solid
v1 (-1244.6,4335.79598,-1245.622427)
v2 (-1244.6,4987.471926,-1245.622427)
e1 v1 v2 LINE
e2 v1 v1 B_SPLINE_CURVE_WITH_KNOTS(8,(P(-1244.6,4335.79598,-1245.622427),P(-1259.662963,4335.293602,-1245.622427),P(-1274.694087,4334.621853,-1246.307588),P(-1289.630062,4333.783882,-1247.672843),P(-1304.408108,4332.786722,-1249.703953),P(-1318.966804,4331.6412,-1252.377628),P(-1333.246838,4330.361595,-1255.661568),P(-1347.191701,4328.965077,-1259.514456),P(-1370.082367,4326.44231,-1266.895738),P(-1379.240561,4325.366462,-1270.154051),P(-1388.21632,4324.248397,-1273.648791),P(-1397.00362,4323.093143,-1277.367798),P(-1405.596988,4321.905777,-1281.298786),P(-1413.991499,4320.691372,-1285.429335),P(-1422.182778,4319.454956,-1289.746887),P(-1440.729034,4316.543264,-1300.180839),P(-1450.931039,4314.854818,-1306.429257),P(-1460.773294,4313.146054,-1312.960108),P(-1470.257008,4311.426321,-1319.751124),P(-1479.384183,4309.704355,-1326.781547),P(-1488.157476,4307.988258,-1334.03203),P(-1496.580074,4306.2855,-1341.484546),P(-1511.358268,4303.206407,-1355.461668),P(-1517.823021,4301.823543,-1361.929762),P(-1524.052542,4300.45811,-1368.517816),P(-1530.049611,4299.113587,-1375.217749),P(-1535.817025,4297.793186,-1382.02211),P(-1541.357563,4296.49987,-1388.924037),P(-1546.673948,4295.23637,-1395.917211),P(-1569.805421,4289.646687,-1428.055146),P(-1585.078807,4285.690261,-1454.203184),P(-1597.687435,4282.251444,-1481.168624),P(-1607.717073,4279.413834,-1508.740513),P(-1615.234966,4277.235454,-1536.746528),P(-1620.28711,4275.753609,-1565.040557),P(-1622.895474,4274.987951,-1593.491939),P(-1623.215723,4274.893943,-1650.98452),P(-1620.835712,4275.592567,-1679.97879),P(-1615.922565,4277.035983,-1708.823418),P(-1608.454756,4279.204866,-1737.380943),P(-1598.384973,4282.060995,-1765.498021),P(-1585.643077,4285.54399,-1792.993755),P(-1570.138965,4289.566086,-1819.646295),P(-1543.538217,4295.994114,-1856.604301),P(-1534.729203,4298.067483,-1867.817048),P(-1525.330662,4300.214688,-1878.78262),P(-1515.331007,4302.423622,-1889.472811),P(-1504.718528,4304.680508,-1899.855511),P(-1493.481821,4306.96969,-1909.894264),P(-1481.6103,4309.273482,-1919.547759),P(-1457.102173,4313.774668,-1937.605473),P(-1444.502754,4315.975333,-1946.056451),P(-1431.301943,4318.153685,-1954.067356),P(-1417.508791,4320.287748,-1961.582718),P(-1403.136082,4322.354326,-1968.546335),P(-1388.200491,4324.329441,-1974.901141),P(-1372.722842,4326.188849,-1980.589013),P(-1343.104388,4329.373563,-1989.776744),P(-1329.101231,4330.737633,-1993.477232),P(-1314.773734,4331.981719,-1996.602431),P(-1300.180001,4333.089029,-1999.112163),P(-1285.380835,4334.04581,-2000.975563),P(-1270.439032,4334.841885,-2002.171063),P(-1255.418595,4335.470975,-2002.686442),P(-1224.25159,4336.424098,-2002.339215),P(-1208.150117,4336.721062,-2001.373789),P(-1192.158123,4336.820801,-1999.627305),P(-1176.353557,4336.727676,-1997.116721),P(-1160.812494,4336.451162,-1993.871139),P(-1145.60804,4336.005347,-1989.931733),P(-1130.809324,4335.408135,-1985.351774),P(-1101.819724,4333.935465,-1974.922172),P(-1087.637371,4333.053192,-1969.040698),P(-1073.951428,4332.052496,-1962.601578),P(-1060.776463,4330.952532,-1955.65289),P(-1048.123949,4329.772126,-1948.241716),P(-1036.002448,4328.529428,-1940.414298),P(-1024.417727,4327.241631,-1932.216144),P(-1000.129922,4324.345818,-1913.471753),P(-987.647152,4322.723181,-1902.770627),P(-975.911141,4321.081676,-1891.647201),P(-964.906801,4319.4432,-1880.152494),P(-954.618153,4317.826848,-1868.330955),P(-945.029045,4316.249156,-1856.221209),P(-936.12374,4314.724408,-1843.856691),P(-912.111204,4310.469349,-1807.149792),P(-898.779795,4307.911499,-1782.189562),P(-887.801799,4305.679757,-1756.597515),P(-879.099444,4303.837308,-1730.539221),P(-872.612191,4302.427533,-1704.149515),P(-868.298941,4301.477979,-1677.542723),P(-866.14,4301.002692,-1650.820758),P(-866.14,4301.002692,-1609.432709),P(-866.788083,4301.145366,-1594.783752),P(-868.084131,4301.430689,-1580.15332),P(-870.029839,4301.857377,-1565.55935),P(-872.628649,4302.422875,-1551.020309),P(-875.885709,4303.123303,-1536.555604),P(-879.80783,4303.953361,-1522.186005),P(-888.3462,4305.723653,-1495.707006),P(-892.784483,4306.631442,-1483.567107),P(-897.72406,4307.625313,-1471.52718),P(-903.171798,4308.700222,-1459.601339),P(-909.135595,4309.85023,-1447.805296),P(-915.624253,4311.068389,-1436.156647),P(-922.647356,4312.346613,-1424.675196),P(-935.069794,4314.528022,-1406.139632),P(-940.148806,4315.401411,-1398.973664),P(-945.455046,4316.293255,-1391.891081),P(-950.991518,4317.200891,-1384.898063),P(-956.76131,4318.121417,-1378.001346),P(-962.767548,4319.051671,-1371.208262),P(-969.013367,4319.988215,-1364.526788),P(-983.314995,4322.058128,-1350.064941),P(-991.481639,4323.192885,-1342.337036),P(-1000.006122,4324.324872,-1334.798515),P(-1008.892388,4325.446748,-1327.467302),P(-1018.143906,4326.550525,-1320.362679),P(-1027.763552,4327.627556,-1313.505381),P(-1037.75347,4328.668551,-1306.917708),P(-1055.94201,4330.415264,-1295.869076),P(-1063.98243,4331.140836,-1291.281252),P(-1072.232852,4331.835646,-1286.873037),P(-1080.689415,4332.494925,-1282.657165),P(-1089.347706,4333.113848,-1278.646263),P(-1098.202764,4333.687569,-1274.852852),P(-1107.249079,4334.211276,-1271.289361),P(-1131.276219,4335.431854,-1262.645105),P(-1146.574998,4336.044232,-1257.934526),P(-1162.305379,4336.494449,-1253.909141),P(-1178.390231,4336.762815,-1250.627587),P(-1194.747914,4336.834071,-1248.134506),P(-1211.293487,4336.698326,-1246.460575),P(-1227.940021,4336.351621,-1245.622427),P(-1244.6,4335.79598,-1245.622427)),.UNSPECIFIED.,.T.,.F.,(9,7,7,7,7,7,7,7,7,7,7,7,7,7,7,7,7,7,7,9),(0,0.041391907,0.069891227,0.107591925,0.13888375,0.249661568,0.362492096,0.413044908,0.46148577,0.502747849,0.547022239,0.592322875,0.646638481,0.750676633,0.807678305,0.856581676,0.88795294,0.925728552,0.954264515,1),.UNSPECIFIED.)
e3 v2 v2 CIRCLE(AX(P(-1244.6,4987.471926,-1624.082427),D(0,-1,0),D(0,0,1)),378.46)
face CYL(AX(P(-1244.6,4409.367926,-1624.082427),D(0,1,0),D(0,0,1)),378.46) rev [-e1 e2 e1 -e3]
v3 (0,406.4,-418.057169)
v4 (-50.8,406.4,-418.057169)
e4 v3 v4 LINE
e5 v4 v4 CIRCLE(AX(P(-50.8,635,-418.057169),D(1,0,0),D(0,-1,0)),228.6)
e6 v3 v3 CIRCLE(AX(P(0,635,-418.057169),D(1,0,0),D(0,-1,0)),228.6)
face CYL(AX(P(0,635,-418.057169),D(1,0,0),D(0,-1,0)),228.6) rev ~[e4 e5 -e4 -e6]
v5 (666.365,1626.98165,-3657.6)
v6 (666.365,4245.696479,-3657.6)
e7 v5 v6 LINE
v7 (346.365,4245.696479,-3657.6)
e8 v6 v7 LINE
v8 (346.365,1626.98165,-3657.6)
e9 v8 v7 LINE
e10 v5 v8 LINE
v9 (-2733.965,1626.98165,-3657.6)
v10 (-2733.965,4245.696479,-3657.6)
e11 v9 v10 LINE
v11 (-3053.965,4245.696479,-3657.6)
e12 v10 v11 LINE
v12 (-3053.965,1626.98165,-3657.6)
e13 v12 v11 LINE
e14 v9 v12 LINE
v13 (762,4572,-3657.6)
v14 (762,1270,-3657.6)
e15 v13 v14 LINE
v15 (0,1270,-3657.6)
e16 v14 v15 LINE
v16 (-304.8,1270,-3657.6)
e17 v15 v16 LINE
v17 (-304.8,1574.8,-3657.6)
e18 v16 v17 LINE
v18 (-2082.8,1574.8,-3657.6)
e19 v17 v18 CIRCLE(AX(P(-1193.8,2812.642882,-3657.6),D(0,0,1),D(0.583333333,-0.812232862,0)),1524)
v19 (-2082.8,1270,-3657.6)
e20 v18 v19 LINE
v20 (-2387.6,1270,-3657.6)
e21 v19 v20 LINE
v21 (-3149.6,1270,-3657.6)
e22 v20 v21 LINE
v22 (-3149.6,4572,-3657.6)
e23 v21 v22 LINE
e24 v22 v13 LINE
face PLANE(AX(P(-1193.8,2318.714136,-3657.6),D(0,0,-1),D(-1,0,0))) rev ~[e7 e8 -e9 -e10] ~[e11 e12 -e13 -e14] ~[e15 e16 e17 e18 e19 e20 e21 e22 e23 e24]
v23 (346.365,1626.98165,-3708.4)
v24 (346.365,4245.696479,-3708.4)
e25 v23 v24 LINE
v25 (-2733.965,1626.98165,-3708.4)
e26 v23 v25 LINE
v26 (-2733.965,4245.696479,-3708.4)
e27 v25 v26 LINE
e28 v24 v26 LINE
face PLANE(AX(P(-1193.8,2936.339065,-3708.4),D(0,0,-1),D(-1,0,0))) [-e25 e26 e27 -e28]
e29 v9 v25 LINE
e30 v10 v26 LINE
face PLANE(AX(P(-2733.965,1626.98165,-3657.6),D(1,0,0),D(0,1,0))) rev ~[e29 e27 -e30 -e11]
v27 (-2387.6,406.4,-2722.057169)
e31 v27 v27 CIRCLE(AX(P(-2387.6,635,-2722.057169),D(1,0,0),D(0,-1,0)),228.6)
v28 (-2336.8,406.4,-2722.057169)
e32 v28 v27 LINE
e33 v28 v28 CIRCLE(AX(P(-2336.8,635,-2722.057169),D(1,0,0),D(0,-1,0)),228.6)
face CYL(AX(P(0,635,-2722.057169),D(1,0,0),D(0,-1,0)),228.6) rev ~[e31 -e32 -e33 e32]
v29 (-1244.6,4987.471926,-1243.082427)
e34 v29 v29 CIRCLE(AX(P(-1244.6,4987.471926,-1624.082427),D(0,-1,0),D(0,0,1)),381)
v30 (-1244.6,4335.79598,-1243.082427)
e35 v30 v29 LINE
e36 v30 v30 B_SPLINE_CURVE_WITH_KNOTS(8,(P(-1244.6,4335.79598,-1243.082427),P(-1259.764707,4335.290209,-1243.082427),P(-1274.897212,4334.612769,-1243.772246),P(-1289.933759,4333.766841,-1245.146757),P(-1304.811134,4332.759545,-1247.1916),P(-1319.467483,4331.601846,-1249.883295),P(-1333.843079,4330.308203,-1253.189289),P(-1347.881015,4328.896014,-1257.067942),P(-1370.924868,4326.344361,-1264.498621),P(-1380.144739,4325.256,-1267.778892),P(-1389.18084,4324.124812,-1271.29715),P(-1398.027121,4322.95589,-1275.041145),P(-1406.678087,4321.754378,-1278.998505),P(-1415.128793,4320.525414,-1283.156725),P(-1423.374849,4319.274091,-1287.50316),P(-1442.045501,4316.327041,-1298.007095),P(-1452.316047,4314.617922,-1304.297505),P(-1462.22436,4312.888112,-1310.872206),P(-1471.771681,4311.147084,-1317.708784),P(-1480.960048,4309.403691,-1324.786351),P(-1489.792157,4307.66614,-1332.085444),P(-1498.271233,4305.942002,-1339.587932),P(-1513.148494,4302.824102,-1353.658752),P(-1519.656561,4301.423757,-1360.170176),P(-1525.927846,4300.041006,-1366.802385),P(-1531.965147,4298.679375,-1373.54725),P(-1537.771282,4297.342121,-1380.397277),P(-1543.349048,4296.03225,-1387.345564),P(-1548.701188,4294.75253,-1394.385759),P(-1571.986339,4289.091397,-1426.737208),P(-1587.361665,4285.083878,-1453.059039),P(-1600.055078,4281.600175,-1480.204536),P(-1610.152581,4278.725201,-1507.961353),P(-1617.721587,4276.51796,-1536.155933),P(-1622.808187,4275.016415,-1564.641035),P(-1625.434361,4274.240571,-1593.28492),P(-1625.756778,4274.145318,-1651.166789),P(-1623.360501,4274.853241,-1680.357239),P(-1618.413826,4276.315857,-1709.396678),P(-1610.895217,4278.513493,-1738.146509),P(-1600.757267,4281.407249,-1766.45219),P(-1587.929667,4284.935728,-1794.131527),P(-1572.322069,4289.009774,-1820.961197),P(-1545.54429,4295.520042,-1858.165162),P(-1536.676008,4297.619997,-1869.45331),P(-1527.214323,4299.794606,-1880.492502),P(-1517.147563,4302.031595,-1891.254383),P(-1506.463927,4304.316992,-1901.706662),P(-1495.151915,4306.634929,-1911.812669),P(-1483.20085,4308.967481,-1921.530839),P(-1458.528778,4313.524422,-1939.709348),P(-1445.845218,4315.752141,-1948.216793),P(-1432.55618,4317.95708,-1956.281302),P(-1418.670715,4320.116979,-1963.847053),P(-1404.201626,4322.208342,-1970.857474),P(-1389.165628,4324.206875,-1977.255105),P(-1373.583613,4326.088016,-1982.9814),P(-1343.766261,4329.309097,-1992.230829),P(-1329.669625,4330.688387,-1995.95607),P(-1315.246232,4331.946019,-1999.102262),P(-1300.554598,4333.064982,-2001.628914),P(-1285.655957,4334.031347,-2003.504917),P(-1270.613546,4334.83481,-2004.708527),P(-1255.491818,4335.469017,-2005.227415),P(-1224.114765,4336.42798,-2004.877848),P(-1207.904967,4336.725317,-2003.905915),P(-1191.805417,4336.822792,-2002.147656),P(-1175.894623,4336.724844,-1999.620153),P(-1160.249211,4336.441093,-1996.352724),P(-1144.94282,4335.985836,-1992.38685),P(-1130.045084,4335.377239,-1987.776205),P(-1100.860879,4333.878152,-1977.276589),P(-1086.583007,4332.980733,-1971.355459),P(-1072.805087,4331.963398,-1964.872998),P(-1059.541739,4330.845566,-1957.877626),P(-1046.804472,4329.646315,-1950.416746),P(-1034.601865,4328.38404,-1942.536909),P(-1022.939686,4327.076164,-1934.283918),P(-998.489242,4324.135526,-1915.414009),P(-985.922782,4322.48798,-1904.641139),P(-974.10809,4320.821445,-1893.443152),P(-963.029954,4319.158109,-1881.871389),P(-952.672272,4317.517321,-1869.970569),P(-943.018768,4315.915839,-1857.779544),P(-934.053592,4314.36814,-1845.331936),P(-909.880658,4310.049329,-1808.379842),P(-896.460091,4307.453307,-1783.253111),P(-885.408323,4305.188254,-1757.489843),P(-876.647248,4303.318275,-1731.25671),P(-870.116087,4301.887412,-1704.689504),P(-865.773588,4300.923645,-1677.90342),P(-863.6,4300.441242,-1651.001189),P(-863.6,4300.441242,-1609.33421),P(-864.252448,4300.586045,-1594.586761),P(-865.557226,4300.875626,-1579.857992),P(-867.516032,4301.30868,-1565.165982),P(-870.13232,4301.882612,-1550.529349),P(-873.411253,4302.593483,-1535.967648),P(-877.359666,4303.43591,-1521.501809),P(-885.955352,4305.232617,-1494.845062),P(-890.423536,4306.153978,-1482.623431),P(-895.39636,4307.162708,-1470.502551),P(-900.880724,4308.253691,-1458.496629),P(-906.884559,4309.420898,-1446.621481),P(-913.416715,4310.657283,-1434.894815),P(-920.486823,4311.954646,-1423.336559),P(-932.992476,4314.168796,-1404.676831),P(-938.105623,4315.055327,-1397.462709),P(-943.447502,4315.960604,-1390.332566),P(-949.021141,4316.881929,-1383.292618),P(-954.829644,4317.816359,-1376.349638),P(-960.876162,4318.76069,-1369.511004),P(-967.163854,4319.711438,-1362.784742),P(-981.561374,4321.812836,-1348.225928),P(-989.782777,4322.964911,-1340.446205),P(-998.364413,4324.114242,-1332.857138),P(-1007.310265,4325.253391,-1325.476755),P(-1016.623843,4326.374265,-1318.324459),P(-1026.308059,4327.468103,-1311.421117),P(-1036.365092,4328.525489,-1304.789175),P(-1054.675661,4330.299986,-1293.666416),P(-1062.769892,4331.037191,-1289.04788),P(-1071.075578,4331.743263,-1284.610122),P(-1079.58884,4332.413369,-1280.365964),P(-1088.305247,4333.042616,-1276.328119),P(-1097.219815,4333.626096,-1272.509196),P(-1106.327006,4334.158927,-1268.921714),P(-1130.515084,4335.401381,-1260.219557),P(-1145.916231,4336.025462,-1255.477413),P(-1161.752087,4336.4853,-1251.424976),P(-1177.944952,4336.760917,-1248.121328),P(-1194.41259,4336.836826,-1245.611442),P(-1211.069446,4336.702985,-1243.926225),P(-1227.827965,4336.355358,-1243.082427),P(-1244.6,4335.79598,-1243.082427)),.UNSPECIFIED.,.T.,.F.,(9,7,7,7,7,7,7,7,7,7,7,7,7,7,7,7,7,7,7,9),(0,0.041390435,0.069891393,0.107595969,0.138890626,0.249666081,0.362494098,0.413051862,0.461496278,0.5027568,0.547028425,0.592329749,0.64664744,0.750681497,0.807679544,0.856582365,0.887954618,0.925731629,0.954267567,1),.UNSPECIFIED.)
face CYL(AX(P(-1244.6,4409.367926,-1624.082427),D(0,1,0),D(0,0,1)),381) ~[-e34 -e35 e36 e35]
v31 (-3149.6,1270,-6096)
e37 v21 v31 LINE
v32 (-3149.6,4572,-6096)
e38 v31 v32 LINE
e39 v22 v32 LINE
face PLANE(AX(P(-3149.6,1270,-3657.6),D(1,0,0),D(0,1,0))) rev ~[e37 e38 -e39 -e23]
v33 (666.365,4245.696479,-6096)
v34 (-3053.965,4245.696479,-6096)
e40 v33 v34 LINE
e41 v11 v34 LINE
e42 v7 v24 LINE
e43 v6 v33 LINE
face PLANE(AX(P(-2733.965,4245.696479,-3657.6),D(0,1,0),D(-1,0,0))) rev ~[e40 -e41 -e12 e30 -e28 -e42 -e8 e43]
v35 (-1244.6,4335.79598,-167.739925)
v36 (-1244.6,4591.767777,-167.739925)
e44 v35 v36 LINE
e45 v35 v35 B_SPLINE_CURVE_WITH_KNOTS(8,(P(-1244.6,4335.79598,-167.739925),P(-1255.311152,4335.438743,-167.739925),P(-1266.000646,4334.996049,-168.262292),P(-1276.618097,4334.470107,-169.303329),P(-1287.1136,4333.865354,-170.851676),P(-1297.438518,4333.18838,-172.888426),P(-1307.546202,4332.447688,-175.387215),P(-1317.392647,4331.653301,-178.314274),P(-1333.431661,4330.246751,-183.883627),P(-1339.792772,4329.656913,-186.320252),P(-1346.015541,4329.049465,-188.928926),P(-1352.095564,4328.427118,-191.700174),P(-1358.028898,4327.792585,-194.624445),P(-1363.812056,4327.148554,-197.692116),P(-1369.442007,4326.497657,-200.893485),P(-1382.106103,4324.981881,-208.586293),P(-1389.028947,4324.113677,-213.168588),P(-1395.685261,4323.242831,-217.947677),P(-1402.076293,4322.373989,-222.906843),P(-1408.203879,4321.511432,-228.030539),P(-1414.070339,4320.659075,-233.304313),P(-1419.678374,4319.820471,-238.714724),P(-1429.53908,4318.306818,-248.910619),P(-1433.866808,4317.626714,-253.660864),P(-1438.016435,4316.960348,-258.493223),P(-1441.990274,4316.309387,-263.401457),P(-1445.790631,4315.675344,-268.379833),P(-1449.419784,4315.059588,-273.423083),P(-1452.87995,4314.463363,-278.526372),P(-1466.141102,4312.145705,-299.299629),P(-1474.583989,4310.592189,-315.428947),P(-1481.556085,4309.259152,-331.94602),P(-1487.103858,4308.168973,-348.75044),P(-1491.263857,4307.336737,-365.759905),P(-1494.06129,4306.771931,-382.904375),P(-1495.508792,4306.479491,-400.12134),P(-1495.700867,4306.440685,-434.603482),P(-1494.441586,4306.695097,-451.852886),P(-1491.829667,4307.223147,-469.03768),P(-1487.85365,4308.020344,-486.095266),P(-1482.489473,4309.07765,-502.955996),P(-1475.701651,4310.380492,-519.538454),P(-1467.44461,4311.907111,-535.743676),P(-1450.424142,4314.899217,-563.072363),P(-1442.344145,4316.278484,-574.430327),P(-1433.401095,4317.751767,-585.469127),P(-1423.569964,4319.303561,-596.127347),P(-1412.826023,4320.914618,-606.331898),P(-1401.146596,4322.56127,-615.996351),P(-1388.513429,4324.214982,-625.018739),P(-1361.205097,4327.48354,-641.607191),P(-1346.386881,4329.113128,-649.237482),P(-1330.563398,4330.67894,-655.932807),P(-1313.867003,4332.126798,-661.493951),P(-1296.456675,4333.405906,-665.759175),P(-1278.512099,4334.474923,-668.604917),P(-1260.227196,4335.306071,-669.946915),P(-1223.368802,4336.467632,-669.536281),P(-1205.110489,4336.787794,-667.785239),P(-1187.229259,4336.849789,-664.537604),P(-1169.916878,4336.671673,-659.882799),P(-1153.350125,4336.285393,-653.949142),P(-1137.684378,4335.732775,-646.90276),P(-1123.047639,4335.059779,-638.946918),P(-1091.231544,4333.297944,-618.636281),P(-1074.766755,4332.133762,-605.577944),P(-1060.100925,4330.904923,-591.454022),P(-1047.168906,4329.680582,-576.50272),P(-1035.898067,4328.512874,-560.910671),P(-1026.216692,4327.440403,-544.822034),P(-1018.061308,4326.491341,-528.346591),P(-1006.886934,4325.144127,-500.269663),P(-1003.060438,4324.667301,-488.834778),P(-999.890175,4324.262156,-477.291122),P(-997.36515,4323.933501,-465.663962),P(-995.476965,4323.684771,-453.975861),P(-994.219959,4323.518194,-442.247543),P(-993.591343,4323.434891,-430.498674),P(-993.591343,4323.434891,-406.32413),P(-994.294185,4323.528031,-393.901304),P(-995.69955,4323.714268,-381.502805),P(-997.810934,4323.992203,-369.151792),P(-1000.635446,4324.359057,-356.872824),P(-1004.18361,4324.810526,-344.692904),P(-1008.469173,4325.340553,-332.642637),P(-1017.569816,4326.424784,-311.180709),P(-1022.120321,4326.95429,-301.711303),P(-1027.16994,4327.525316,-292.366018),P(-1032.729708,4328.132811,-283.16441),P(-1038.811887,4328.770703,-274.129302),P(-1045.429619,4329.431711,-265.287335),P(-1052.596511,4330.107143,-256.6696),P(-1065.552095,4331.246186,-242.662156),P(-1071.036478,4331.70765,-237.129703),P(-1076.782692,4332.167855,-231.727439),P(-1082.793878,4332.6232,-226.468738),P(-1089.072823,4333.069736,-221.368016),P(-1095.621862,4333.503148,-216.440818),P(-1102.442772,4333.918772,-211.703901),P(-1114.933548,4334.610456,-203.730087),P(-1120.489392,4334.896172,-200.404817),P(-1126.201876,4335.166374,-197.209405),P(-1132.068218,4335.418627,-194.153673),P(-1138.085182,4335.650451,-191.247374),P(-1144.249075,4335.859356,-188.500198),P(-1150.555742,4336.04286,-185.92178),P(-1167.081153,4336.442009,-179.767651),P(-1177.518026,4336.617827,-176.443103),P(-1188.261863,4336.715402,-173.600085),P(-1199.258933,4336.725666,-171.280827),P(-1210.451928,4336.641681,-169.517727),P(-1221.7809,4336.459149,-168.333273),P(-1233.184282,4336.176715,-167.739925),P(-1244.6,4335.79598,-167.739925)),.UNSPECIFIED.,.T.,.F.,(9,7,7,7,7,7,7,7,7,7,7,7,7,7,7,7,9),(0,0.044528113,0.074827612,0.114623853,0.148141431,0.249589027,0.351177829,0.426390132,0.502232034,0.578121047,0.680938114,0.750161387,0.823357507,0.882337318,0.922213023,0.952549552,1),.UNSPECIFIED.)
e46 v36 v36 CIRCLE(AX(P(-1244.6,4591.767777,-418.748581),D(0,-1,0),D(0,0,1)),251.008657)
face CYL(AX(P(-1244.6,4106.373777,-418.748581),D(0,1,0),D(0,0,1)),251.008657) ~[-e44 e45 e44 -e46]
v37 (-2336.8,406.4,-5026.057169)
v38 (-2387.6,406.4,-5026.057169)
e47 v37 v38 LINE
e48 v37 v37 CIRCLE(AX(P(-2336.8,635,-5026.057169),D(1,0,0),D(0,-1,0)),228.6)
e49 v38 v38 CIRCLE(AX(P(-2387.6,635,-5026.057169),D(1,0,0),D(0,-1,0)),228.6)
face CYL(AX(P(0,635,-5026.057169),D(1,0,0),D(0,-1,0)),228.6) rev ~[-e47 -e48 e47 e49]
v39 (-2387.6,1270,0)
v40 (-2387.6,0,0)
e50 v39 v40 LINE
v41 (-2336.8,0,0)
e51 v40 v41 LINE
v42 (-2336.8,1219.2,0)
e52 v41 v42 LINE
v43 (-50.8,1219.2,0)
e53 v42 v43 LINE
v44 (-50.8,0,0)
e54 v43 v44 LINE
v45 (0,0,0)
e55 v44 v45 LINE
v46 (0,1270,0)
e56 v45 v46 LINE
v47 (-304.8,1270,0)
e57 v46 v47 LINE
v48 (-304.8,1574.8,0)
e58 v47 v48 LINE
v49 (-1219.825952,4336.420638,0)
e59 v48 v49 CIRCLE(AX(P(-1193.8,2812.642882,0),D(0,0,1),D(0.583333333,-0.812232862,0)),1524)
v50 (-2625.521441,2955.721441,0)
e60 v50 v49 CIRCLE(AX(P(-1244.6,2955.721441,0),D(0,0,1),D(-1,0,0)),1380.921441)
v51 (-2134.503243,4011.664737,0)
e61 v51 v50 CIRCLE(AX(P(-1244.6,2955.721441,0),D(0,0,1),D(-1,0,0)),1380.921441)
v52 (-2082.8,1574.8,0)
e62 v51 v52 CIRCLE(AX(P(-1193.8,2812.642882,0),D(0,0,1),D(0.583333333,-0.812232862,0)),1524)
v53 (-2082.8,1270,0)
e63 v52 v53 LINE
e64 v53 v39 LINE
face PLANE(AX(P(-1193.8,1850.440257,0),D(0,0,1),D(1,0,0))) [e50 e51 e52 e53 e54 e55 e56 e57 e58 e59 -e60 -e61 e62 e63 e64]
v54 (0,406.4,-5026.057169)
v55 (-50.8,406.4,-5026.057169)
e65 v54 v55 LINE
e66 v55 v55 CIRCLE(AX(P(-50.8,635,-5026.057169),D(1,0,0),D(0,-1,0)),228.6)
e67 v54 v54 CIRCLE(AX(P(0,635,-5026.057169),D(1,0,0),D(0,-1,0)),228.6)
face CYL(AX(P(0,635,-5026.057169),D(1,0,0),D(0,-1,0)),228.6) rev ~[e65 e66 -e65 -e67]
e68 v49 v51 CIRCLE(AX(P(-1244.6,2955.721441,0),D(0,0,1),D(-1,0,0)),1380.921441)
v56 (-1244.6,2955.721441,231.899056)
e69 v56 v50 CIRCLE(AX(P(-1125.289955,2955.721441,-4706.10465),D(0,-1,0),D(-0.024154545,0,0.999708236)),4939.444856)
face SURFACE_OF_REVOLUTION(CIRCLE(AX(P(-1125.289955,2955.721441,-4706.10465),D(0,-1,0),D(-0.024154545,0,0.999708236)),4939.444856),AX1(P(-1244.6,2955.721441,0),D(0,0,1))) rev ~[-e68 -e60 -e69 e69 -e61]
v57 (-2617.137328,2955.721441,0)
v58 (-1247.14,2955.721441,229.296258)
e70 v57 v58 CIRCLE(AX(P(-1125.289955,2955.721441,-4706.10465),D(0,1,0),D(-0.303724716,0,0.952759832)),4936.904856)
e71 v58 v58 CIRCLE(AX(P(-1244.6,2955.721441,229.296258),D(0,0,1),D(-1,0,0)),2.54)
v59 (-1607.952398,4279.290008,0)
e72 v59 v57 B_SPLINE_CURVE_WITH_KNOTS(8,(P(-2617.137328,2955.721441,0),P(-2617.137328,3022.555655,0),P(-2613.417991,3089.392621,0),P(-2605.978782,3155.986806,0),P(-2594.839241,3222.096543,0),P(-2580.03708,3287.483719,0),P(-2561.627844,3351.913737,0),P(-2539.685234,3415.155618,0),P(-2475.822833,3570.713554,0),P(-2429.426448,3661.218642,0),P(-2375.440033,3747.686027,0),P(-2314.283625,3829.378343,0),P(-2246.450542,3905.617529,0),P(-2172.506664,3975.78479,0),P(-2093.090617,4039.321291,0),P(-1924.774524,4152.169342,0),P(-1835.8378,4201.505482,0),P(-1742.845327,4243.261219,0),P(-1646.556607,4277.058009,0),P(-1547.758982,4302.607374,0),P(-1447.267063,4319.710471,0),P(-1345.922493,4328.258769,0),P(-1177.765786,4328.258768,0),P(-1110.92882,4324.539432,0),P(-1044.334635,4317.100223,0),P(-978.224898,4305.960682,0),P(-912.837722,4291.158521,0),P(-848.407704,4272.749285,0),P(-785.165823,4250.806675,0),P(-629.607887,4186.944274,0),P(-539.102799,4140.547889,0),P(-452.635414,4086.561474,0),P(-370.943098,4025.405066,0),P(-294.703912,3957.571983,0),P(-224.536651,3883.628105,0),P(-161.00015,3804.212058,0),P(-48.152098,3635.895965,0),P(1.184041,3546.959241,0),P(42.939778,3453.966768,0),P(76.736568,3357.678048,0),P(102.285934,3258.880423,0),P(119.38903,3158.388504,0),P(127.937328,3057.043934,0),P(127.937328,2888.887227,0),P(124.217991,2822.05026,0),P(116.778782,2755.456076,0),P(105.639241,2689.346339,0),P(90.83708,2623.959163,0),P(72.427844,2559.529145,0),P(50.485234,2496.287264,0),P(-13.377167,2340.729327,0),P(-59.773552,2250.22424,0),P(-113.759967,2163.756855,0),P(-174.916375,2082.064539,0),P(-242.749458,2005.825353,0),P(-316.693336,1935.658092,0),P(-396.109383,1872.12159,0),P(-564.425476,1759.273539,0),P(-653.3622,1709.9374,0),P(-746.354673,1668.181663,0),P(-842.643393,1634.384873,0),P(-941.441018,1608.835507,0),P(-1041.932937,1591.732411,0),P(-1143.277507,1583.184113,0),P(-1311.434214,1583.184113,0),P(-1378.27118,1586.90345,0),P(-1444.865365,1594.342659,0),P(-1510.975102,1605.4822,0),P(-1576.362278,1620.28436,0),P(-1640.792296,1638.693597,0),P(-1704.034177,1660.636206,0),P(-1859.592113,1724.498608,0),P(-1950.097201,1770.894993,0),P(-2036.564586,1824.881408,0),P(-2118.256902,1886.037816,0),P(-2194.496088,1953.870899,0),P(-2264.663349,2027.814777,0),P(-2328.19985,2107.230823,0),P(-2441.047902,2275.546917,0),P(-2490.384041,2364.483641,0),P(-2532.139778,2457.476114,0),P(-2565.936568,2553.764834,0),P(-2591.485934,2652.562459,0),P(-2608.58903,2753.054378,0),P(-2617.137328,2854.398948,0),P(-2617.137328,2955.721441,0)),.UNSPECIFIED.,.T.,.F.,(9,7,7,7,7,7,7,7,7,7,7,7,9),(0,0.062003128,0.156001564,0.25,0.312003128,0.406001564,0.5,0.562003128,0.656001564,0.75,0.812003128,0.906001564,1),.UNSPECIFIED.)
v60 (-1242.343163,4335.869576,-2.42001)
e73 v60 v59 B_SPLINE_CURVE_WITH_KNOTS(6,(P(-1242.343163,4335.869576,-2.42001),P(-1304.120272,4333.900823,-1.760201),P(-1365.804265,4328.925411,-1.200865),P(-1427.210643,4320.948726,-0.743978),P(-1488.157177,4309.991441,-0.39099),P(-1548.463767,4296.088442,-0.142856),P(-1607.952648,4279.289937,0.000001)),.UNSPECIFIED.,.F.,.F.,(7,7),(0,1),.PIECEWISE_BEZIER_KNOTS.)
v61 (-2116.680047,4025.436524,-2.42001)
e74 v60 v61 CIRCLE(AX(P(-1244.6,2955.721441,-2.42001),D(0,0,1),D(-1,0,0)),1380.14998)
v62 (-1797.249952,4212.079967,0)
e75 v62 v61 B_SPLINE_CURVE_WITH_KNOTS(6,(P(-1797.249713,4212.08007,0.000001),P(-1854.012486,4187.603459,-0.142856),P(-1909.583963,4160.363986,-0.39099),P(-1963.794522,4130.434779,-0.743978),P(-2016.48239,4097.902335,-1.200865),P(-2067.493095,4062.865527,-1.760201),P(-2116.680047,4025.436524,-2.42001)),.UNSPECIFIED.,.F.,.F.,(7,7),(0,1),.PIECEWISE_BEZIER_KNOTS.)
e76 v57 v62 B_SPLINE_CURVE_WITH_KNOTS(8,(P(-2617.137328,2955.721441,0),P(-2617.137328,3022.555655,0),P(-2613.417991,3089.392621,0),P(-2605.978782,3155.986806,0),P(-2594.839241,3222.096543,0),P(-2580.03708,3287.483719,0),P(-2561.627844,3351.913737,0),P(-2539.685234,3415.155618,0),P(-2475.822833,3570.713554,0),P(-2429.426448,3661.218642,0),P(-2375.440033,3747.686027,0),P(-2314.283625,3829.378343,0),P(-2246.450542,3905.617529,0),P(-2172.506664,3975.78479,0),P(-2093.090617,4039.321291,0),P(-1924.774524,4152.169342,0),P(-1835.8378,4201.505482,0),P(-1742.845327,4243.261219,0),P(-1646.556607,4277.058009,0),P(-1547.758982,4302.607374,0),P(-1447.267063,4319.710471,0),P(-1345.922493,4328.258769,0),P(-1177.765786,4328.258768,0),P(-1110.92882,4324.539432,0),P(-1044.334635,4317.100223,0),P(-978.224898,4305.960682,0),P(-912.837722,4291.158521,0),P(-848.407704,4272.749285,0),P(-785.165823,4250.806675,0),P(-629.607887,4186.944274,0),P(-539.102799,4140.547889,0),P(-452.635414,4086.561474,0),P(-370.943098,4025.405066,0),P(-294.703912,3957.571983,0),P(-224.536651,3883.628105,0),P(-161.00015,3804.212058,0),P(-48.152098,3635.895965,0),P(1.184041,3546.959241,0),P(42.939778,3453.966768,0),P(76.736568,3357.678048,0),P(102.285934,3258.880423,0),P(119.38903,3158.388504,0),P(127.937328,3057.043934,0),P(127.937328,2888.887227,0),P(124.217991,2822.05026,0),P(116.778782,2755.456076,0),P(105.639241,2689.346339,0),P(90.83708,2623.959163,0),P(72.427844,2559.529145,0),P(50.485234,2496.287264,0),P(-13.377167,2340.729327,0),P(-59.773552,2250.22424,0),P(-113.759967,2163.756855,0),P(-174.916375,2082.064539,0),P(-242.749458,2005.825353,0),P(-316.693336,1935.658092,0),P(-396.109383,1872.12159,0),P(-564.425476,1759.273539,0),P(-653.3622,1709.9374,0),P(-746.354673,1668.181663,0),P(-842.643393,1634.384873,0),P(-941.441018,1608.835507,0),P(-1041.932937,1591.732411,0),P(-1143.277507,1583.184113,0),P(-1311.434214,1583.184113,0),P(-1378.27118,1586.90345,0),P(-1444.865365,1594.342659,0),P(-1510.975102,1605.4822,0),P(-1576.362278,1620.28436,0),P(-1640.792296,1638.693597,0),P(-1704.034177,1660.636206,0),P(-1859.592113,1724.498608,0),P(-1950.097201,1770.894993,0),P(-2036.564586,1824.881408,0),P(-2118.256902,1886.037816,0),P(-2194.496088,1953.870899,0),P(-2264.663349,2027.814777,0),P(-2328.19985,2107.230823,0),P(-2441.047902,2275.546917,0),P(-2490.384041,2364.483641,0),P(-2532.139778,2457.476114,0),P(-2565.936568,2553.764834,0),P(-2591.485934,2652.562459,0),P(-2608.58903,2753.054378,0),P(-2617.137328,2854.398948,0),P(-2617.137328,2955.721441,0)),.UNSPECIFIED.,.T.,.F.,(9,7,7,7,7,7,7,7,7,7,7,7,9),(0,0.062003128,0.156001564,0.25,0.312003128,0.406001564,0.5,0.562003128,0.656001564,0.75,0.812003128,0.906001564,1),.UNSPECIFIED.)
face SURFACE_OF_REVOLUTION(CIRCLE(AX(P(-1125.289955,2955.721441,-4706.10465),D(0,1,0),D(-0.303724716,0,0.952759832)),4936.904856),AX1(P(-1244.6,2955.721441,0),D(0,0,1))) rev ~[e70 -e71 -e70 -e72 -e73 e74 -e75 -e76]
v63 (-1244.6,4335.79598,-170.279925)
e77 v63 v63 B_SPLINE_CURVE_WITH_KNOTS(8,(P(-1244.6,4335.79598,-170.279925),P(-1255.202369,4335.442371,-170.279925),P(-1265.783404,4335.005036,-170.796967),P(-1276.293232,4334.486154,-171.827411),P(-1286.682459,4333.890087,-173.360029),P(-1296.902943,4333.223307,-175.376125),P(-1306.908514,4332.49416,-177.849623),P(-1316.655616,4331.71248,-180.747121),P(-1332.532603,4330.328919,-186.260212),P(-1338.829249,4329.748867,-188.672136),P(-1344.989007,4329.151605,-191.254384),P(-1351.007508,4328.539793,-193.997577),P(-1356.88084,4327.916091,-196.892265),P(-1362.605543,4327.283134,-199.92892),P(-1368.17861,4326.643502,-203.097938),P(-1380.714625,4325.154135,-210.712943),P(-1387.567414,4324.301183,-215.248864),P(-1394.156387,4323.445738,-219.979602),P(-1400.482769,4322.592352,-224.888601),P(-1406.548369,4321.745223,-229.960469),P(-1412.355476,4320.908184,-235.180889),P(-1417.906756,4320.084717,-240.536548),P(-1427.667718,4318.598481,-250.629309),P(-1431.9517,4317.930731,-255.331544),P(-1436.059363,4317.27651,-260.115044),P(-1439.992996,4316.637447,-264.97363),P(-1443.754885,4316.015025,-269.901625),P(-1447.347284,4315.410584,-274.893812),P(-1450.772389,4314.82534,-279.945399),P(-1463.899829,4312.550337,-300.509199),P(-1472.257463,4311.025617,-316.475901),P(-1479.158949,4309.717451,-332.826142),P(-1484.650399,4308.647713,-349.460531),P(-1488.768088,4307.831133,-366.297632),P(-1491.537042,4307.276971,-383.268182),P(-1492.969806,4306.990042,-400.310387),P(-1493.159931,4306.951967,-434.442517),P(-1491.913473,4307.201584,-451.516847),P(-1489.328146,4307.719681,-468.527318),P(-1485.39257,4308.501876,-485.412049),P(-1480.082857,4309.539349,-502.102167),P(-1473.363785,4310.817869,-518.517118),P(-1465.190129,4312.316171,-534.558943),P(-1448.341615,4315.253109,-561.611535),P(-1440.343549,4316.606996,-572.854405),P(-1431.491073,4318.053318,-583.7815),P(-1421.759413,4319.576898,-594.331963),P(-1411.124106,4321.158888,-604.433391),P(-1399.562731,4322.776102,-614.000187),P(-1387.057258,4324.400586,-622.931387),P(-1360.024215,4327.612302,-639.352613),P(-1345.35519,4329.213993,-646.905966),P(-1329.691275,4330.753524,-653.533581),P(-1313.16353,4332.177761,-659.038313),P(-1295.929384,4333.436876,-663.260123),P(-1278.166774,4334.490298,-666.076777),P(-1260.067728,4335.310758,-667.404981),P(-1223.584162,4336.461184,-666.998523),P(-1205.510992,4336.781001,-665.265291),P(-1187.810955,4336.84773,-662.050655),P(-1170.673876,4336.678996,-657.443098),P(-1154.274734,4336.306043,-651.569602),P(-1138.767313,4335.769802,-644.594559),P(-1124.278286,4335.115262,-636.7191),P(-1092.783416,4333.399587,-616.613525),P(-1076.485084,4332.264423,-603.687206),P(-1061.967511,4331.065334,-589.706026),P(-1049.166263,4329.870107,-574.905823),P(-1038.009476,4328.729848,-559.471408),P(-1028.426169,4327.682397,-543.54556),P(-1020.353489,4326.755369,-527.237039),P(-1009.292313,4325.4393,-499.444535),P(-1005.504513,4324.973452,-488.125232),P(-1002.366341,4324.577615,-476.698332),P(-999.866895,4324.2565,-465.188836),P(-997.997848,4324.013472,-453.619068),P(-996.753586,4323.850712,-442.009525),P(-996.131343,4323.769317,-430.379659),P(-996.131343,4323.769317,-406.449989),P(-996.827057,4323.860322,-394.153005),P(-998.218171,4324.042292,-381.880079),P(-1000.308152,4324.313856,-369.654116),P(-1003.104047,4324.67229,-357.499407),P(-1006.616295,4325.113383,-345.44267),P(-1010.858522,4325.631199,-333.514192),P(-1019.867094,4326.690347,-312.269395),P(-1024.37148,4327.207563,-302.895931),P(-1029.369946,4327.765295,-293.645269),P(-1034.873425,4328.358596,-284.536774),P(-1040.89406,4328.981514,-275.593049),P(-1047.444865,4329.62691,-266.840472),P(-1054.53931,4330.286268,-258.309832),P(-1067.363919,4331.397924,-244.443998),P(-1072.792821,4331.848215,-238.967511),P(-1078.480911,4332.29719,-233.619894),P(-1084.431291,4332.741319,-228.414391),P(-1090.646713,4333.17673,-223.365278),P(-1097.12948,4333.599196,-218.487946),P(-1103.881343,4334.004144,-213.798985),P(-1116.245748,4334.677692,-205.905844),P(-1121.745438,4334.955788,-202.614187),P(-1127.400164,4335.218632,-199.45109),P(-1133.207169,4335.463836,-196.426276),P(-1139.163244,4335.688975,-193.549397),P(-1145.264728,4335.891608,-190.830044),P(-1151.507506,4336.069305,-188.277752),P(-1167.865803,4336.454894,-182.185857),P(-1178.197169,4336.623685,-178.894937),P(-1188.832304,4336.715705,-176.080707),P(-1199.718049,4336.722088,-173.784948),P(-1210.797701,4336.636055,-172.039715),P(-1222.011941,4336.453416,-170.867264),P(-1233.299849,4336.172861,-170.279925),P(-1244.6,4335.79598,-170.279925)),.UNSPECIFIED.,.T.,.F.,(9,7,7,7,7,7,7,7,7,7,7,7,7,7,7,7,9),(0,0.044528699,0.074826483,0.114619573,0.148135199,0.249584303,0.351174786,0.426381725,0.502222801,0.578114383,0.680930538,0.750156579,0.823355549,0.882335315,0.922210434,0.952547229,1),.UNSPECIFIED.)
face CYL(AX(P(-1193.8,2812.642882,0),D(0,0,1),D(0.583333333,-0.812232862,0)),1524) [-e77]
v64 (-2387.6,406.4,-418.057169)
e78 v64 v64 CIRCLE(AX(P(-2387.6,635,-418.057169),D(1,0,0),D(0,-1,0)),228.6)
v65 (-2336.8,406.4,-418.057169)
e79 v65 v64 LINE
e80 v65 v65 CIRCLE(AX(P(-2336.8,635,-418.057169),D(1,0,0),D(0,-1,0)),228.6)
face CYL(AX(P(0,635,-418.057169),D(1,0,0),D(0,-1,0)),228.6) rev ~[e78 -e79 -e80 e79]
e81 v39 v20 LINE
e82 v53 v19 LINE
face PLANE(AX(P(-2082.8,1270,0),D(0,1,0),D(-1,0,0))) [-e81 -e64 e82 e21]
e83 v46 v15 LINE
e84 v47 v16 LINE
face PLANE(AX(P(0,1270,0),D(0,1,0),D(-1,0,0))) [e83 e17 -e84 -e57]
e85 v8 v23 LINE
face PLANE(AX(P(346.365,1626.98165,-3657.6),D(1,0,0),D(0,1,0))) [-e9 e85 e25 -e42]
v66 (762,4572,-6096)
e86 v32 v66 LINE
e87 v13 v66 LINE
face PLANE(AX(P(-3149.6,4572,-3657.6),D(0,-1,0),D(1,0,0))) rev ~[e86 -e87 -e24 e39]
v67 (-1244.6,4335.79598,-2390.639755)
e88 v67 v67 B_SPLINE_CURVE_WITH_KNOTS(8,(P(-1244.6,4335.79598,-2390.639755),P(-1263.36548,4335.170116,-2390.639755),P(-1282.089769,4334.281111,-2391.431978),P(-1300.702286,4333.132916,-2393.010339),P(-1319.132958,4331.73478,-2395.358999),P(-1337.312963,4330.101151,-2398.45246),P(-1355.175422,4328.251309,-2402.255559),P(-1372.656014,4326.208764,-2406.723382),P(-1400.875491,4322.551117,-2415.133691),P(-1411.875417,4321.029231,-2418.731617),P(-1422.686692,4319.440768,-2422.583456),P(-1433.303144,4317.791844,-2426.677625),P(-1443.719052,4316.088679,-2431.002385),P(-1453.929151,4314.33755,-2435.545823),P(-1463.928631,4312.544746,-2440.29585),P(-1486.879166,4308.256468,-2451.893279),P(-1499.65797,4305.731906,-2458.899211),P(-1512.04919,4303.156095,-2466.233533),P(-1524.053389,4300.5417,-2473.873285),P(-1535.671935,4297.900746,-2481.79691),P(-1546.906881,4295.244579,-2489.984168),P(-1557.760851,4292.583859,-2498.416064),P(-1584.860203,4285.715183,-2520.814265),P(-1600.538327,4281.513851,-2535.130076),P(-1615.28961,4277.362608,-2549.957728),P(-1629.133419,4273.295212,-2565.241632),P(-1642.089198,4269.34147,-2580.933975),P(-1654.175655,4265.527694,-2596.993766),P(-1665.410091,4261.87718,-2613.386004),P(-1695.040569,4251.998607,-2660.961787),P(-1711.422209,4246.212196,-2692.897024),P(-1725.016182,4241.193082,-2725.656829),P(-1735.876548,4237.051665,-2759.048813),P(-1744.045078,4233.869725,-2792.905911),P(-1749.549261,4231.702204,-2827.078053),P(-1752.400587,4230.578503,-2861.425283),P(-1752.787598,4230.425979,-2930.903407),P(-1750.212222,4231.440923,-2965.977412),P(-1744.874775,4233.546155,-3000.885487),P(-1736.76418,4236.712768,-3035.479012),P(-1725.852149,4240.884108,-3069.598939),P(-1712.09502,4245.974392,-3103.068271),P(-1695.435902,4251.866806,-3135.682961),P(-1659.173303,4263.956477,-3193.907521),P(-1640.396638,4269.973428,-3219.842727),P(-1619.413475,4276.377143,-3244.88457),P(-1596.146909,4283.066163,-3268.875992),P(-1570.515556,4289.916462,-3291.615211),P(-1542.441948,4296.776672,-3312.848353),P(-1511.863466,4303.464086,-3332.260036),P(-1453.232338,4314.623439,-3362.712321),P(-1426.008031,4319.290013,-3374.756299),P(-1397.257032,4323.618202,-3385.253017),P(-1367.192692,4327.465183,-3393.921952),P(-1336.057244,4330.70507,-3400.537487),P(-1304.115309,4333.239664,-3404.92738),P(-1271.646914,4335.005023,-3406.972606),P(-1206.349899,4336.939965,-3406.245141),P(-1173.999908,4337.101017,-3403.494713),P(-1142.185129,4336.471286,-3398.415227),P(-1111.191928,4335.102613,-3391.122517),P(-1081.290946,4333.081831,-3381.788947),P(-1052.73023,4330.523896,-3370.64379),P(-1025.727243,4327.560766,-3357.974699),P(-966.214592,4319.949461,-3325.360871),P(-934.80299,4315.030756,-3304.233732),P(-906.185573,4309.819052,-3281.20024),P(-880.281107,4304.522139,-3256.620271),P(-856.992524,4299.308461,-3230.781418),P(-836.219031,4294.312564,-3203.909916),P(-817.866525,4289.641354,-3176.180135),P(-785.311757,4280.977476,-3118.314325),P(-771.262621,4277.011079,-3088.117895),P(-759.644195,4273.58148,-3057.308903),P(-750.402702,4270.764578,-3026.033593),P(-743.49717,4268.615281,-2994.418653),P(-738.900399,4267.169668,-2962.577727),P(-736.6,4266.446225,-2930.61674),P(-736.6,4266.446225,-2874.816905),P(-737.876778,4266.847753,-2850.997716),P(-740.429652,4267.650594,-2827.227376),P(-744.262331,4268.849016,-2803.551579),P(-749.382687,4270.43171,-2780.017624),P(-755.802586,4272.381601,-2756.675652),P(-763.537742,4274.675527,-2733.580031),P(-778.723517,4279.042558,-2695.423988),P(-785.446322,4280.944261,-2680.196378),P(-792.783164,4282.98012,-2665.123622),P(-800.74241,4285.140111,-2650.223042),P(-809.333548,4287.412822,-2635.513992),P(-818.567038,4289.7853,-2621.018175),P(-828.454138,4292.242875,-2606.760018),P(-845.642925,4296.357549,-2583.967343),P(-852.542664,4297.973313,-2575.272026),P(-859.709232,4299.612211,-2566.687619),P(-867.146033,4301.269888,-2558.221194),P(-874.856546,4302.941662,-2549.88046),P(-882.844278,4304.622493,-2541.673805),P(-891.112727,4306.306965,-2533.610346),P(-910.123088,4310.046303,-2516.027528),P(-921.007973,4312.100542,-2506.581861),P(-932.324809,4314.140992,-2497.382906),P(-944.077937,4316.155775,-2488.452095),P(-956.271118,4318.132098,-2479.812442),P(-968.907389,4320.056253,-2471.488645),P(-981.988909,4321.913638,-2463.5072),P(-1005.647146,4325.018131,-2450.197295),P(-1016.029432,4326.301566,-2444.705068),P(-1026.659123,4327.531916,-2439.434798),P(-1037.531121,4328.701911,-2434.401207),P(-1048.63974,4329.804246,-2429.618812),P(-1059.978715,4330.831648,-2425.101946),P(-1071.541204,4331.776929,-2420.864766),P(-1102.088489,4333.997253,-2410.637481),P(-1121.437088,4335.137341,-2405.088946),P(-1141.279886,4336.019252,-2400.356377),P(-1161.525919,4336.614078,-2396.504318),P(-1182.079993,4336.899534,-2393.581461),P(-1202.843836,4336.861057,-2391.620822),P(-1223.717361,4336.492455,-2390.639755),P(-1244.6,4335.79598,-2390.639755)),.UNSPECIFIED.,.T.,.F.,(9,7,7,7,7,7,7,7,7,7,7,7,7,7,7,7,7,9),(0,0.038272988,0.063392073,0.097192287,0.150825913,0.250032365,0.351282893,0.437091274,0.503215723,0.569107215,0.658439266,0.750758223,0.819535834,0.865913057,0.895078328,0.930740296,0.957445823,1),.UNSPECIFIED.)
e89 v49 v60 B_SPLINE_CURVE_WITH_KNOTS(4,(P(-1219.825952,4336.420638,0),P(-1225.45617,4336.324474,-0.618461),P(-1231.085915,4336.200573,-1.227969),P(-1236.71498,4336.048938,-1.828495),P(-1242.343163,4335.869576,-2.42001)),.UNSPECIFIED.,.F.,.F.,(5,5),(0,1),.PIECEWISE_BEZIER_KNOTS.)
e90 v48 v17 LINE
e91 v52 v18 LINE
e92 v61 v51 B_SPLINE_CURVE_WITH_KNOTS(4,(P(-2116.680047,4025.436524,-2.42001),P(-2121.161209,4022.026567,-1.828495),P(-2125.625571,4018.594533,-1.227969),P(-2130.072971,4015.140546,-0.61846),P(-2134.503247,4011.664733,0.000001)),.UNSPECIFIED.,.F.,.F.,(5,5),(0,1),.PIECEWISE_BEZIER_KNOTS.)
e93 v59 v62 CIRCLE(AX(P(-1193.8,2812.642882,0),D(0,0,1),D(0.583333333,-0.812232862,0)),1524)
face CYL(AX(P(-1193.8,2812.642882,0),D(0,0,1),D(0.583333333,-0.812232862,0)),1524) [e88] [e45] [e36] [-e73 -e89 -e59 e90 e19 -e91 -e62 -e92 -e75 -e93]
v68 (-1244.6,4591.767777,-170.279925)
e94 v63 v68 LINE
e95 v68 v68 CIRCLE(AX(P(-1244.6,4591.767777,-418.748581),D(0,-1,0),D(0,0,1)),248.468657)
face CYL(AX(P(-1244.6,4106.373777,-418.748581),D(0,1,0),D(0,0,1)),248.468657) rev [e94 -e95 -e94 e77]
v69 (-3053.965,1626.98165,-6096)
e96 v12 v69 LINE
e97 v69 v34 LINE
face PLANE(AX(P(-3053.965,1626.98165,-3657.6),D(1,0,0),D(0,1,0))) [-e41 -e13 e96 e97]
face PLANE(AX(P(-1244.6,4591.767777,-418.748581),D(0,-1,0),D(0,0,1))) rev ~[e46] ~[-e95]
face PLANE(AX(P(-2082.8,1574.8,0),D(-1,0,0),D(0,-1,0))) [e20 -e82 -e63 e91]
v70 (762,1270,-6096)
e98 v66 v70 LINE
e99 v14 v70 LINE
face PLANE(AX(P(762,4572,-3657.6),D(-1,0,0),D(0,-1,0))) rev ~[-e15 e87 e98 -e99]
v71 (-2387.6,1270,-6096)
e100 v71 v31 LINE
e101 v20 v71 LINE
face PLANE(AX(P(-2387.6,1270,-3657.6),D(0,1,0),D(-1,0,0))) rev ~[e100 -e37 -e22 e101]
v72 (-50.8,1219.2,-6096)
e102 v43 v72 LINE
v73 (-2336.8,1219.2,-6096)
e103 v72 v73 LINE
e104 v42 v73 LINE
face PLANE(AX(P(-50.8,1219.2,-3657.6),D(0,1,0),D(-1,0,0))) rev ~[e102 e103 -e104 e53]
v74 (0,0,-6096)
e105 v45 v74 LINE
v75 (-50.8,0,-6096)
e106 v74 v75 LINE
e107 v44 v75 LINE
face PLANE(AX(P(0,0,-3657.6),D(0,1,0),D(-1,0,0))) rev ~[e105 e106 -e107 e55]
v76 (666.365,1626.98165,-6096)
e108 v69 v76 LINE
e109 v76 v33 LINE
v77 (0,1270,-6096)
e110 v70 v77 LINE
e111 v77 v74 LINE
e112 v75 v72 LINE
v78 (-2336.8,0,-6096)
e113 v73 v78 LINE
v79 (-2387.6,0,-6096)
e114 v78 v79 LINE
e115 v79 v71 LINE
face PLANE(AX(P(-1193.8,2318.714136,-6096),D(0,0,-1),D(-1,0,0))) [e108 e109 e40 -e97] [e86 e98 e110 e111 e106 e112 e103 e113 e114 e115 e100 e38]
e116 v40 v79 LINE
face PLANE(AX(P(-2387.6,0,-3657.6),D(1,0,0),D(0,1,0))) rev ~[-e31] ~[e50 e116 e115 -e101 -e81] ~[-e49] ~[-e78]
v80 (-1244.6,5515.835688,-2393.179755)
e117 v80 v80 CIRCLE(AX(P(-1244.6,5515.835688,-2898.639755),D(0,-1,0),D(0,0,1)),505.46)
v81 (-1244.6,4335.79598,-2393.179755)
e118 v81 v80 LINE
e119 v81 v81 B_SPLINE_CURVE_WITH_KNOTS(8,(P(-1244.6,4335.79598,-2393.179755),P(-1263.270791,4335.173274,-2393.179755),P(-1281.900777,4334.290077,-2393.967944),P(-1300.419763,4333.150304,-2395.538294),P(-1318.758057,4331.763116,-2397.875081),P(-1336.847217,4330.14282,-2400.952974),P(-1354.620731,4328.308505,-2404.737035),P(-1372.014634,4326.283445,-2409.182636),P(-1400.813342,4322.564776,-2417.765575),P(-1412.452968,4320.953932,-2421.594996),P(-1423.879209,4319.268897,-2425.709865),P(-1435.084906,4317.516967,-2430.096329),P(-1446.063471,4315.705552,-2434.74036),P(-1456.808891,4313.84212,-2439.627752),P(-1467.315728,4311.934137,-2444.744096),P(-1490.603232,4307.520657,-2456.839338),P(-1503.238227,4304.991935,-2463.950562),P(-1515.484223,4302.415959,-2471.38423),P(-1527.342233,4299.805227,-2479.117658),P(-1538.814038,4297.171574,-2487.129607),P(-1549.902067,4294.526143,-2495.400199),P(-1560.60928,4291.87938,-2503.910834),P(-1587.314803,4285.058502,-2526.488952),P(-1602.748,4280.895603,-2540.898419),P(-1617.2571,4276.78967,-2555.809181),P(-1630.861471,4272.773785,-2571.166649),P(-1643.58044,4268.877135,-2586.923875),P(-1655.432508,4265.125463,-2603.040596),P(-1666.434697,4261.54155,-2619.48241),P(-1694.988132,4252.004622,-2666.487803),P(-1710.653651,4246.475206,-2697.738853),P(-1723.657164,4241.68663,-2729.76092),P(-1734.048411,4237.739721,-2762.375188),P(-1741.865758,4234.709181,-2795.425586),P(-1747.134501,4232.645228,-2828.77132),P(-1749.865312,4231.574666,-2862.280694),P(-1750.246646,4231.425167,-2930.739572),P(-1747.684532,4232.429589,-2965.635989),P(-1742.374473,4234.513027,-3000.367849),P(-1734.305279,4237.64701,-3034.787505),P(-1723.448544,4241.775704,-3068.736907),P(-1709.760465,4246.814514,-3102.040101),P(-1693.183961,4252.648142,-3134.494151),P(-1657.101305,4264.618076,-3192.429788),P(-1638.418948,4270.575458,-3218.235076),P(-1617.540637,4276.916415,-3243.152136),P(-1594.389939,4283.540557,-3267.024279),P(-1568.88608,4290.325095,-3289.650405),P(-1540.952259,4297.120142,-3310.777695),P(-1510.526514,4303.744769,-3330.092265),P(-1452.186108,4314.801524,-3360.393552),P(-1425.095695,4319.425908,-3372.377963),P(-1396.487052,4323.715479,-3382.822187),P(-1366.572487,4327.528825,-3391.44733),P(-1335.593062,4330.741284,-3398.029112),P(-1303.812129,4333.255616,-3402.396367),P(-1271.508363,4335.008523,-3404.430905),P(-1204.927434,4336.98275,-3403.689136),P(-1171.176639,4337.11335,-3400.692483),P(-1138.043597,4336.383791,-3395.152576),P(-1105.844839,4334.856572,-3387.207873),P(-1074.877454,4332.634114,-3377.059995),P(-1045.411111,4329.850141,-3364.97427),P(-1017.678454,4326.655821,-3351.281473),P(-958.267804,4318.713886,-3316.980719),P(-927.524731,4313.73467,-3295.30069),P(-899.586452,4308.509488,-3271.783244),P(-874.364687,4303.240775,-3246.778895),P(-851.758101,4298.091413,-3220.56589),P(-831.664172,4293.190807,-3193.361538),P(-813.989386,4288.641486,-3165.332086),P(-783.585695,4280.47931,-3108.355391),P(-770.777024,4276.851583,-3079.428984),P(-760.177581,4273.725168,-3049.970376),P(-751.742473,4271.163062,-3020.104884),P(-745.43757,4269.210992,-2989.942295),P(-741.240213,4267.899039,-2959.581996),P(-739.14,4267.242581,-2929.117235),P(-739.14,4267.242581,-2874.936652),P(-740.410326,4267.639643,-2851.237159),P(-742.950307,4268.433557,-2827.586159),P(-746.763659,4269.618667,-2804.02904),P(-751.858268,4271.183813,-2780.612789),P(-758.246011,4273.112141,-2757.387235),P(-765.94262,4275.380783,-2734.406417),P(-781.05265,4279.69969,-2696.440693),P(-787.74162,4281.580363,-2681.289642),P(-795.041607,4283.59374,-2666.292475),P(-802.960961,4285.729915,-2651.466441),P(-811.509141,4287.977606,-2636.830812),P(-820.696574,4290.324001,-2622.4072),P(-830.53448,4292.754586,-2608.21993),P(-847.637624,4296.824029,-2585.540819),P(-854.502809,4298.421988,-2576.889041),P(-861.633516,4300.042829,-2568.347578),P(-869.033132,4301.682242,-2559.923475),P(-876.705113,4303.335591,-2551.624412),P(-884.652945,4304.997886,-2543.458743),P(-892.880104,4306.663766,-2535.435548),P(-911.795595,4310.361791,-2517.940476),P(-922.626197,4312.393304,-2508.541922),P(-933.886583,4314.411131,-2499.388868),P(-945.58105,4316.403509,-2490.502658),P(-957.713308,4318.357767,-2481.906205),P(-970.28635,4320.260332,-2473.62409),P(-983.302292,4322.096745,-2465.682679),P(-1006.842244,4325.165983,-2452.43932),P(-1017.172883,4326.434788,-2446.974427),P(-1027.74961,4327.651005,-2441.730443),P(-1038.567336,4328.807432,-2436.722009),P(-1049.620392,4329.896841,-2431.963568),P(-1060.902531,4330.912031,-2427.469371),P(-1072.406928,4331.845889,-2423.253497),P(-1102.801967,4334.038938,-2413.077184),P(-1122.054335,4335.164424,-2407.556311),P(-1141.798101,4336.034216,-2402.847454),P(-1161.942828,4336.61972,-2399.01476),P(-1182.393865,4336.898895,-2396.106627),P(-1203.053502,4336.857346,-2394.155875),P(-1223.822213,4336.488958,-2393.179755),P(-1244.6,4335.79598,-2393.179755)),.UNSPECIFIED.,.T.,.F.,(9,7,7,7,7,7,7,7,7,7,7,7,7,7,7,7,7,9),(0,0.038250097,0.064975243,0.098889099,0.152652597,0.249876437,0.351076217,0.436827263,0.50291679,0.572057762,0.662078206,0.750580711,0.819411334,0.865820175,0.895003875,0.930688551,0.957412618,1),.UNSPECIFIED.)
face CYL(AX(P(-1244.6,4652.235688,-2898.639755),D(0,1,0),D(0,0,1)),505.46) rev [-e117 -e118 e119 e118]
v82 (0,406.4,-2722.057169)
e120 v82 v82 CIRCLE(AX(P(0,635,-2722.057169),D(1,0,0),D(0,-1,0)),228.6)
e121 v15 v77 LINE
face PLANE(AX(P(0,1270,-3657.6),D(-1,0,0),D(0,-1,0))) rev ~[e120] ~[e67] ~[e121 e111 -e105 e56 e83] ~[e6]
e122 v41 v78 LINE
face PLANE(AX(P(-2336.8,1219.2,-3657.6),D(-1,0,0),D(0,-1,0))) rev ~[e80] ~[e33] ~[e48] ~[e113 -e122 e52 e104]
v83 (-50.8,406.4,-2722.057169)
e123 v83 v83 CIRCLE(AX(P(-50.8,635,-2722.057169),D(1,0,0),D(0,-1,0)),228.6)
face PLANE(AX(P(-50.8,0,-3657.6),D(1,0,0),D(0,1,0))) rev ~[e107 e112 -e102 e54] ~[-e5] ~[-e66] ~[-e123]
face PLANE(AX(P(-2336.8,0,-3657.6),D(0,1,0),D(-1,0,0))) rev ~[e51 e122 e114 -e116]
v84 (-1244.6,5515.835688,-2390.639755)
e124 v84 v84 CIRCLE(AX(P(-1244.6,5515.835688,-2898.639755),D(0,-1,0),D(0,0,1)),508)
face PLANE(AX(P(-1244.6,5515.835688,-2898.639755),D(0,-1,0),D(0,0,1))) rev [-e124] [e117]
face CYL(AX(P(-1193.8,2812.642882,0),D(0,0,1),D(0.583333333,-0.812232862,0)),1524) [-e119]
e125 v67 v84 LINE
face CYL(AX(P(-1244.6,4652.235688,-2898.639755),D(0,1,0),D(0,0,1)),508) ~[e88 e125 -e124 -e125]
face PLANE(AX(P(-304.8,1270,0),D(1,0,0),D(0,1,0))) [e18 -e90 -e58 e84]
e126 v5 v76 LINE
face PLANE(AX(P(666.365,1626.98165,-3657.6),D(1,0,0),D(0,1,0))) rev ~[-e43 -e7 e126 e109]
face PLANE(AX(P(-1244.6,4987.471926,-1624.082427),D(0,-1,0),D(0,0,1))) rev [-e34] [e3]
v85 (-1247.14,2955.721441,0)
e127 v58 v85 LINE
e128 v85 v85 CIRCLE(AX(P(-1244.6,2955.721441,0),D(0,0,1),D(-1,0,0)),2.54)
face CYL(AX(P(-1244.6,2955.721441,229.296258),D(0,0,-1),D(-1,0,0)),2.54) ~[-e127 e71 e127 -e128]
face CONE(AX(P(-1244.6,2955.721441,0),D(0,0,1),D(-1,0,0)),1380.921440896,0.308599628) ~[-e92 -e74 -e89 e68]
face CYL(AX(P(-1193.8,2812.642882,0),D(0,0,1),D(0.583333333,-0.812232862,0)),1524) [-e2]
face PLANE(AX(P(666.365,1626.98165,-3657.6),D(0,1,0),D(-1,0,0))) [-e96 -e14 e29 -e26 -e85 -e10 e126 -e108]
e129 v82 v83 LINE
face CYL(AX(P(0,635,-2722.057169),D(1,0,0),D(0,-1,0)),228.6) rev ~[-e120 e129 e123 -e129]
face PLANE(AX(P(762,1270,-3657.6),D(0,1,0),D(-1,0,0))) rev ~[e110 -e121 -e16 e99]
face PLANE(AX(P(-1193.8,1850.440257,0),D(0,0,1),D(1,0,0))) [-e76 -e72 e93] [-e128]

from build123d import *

# Parameters (mm, degrees)
BOSS_EXTRUDE3_DEPTH     = 3657.6
SKETCH2_W               = 320
SKETCH2_H               = 2618.714829249
BOSS_EXTRUDE4_DEPTH     = 2438.4
SKETCH4_W               = 3080.33
SKETCH4_H               = 2618.714829249
CUT_EXTRUDE1_DEPTH      = 2387.6
SKETCH5_R               = 228.6
CUT_EXTRUDE2_DEPTH      = 2115.312
CUT_EXTRUDE2_DEPTH_BACK = 4484.116
SKETCH9_W               = 2.54
SKETCH9_H               = 970.788
SKETCH10_W              = 2.54
SKETCH10_H              = 1156.208
SKETCH11_W              = 2.54
SKETCH11_H              = 1727.2


with BuildPart() as part:
    # Sketch1 → Boss-Extrude3 (new body)
    with BuildSketch(Plane.XY):
        with BuildLine():
            Line((-50.8, 0), (0, 0))
            Line((0, 0), (0, 1270))
            Line((0, 1270), (-304.8, 1270))
            Line((-304.8, 1270), (-304.8, 1574.8))
            ThreePointArc((-304.8, 1574.8), (-1193.8, 4336.642881791), (-2082.8, 1574.8))
            Line((-2082.8, 1574.8), (-2082.8, 1270))
            Line((-2082.8, 1270), (-2387.6, 1270))
            Line((-2387.6, 1270), (-2387.6, 0))
            Line((-2387.6, 0), (-2336.8, 0))
            Line((-2336.8, 0), (-2336.8, 1219.2))
            Line((-2336.8, 1219.2), (-50.8, 1219.2))
            Line((-50.8, 1219.2), (-50.8, 0))
        make_face()
    extrude(amount=-BOSS_EXTRUDE3_DEPTH)

    # Sketch2 → Boss-Extrude4 (add)
    with BuildSketch(Plane(origin=(0, 0, -3657.6), x_dir=(-1, 0, 0), z_dir=(0, 0, -1))):
        Polygon((0, 1270), (0, 0), (50.8, 0), (50.8, 1219.2), (2336.8, 1219.2), (2336.8, 0), (2387.6, 0), (2387.6, 1270), (3149.6, 1270), (3149.6, 4572), (-762, 4572), (-762, 1270), align=None)
        with Locations((-506.365, 2936.339064801)):
            Rectangle(SKETCH2_W, SKETCH2_H, mode=Mode.SUBTRACT)
        with Locations((2893.965, 2936.339064801)):
            Rectangle(SKETCH2_W, SKETCH2_H, mode=Mode.SUBTRACT)
    extrude(amount=BOSS_EXTRUDE4_DEPTH)

    # Sketch4 → Cut-Extrude1 (cut)
    with BuildSketch(Plane(origin=(0, 0, -6096), x_dir=(-1, 0, 0), z_dir=(0, 0, -1))):
        with Locations((1193.8, 2936.339064801)):
            Rectangle(SKETCH4_W, SKETCH4_H)
    extrude(amount=-CUT_EXTRUDE1_DEPTH, mode=Mode.SUBTRACT)

    # Sketch5 → Cut-Extrude2 (cut, two sides)
    with BuildSketch(Plane(origin=(0, 0, 0), x_dir=(0, 0, -1), z_dir=(1, 0, 0))) as cut_extrude2_sk:
        with Locations(Location((5026.057168607, 635, 0), (0, 0, 270))):
            Circle(SKETCH5_R)
        with Locations(Location((2722.057168607, 635, 0), (0, 0, 270))):
            Circle(SKETCH5_R)
        with Locations(Location((418.057168607, 635, 0), (0, 0, 270))):
            Circle(SKETCH5_R)
    extrude(amount=CUT_EXTRUDE2_DEPTH, mode=Mode.SUBTRACT)
    extrude(cut_extrude2_sk.sketch, amount=-CUT_EXTRUDE2_DEPTH_BACK, mode=Mode.SUBTRACT)

    # Sketch9 → Revolve-Thin2 (revolve)
    with BuildSketch(Plane.ZY.offset(1244.6), mode=Mode.PRIVATE) as revolve_thin2_sk:
        with Locations((-668.487238084, 4106.373777006)):
            Rectangle(SKETCH9_W, SKETCH9_H)
    revolve(revolve_thin2_sk.sketch.rotate(Axis((-1244.6, 4552.900640391, -418.748581478), (0, -1, 0)), 180), axis=Axis((-1244.6, 4552.900640391, -418.748581478), (0, -1, 0)))

    # Sketch10 → Revolve-Thin3 (revolve)
    with BuildSketch(Plane.ZY.offset(1244.6)):
        with Locations((-1244.352427091, 4409.367926067)):
            Rectangle(SKETCH10_W, SKETCH10_H)
    revolve(axis=Axis((-1244.6, 4987.471926067, -1624.082427091), (0, -1, 0)))

    # Sketch11 → Revolve-Thin4 (revolve)
    with BuildSketch(Plane.ZY.offset(1244.6)):
        with Locations((-2391.909754716, 4652.235687928)):
            Rectangle(SKETCH11_W, SKETCH11_H)
    revolve(axis=Axis((-1244.6, 5515.835687928, -2898.639754716), (0, -1, 0)))

    # Sketch13 → Revolve-Thin5 (revolve)
    with BuildSketch(Plane.ZY.offset(1244.6), mode=Mode.PRIVATE) as revolve_thin5_sk:
        with BuildLine():
            Line((0, 2955.721440895), (231.899056111, 2955.721440895))
            ThreePointArc((231.899056111, 2955.721440895), (165.131589664, 3654.441337663), (0, 4336.642881791))
            Line((0, 4336.642881791), (-2.420009973, 4335.871421012))
            ThreePointArc((-2.420009973, 4335.871421012), (162.411023884, 3655.303753365), (229.296258404, 2958.261440895))
            Line((229.296258404, 2958.261440895), (0, 2958.261440895))
            Line((0, 2958.261440895), (0, 2955.721440895))
        make_face()
    revolve(revolve_thin5_sk.sketch.rotate(Axis((-1244.6, 2955.721440895, 0), (0, 0, 1)), 90), axis=Axis((-1244.6, 2955.721440895, 0), (0, 0, 1)))


solid = part.part
